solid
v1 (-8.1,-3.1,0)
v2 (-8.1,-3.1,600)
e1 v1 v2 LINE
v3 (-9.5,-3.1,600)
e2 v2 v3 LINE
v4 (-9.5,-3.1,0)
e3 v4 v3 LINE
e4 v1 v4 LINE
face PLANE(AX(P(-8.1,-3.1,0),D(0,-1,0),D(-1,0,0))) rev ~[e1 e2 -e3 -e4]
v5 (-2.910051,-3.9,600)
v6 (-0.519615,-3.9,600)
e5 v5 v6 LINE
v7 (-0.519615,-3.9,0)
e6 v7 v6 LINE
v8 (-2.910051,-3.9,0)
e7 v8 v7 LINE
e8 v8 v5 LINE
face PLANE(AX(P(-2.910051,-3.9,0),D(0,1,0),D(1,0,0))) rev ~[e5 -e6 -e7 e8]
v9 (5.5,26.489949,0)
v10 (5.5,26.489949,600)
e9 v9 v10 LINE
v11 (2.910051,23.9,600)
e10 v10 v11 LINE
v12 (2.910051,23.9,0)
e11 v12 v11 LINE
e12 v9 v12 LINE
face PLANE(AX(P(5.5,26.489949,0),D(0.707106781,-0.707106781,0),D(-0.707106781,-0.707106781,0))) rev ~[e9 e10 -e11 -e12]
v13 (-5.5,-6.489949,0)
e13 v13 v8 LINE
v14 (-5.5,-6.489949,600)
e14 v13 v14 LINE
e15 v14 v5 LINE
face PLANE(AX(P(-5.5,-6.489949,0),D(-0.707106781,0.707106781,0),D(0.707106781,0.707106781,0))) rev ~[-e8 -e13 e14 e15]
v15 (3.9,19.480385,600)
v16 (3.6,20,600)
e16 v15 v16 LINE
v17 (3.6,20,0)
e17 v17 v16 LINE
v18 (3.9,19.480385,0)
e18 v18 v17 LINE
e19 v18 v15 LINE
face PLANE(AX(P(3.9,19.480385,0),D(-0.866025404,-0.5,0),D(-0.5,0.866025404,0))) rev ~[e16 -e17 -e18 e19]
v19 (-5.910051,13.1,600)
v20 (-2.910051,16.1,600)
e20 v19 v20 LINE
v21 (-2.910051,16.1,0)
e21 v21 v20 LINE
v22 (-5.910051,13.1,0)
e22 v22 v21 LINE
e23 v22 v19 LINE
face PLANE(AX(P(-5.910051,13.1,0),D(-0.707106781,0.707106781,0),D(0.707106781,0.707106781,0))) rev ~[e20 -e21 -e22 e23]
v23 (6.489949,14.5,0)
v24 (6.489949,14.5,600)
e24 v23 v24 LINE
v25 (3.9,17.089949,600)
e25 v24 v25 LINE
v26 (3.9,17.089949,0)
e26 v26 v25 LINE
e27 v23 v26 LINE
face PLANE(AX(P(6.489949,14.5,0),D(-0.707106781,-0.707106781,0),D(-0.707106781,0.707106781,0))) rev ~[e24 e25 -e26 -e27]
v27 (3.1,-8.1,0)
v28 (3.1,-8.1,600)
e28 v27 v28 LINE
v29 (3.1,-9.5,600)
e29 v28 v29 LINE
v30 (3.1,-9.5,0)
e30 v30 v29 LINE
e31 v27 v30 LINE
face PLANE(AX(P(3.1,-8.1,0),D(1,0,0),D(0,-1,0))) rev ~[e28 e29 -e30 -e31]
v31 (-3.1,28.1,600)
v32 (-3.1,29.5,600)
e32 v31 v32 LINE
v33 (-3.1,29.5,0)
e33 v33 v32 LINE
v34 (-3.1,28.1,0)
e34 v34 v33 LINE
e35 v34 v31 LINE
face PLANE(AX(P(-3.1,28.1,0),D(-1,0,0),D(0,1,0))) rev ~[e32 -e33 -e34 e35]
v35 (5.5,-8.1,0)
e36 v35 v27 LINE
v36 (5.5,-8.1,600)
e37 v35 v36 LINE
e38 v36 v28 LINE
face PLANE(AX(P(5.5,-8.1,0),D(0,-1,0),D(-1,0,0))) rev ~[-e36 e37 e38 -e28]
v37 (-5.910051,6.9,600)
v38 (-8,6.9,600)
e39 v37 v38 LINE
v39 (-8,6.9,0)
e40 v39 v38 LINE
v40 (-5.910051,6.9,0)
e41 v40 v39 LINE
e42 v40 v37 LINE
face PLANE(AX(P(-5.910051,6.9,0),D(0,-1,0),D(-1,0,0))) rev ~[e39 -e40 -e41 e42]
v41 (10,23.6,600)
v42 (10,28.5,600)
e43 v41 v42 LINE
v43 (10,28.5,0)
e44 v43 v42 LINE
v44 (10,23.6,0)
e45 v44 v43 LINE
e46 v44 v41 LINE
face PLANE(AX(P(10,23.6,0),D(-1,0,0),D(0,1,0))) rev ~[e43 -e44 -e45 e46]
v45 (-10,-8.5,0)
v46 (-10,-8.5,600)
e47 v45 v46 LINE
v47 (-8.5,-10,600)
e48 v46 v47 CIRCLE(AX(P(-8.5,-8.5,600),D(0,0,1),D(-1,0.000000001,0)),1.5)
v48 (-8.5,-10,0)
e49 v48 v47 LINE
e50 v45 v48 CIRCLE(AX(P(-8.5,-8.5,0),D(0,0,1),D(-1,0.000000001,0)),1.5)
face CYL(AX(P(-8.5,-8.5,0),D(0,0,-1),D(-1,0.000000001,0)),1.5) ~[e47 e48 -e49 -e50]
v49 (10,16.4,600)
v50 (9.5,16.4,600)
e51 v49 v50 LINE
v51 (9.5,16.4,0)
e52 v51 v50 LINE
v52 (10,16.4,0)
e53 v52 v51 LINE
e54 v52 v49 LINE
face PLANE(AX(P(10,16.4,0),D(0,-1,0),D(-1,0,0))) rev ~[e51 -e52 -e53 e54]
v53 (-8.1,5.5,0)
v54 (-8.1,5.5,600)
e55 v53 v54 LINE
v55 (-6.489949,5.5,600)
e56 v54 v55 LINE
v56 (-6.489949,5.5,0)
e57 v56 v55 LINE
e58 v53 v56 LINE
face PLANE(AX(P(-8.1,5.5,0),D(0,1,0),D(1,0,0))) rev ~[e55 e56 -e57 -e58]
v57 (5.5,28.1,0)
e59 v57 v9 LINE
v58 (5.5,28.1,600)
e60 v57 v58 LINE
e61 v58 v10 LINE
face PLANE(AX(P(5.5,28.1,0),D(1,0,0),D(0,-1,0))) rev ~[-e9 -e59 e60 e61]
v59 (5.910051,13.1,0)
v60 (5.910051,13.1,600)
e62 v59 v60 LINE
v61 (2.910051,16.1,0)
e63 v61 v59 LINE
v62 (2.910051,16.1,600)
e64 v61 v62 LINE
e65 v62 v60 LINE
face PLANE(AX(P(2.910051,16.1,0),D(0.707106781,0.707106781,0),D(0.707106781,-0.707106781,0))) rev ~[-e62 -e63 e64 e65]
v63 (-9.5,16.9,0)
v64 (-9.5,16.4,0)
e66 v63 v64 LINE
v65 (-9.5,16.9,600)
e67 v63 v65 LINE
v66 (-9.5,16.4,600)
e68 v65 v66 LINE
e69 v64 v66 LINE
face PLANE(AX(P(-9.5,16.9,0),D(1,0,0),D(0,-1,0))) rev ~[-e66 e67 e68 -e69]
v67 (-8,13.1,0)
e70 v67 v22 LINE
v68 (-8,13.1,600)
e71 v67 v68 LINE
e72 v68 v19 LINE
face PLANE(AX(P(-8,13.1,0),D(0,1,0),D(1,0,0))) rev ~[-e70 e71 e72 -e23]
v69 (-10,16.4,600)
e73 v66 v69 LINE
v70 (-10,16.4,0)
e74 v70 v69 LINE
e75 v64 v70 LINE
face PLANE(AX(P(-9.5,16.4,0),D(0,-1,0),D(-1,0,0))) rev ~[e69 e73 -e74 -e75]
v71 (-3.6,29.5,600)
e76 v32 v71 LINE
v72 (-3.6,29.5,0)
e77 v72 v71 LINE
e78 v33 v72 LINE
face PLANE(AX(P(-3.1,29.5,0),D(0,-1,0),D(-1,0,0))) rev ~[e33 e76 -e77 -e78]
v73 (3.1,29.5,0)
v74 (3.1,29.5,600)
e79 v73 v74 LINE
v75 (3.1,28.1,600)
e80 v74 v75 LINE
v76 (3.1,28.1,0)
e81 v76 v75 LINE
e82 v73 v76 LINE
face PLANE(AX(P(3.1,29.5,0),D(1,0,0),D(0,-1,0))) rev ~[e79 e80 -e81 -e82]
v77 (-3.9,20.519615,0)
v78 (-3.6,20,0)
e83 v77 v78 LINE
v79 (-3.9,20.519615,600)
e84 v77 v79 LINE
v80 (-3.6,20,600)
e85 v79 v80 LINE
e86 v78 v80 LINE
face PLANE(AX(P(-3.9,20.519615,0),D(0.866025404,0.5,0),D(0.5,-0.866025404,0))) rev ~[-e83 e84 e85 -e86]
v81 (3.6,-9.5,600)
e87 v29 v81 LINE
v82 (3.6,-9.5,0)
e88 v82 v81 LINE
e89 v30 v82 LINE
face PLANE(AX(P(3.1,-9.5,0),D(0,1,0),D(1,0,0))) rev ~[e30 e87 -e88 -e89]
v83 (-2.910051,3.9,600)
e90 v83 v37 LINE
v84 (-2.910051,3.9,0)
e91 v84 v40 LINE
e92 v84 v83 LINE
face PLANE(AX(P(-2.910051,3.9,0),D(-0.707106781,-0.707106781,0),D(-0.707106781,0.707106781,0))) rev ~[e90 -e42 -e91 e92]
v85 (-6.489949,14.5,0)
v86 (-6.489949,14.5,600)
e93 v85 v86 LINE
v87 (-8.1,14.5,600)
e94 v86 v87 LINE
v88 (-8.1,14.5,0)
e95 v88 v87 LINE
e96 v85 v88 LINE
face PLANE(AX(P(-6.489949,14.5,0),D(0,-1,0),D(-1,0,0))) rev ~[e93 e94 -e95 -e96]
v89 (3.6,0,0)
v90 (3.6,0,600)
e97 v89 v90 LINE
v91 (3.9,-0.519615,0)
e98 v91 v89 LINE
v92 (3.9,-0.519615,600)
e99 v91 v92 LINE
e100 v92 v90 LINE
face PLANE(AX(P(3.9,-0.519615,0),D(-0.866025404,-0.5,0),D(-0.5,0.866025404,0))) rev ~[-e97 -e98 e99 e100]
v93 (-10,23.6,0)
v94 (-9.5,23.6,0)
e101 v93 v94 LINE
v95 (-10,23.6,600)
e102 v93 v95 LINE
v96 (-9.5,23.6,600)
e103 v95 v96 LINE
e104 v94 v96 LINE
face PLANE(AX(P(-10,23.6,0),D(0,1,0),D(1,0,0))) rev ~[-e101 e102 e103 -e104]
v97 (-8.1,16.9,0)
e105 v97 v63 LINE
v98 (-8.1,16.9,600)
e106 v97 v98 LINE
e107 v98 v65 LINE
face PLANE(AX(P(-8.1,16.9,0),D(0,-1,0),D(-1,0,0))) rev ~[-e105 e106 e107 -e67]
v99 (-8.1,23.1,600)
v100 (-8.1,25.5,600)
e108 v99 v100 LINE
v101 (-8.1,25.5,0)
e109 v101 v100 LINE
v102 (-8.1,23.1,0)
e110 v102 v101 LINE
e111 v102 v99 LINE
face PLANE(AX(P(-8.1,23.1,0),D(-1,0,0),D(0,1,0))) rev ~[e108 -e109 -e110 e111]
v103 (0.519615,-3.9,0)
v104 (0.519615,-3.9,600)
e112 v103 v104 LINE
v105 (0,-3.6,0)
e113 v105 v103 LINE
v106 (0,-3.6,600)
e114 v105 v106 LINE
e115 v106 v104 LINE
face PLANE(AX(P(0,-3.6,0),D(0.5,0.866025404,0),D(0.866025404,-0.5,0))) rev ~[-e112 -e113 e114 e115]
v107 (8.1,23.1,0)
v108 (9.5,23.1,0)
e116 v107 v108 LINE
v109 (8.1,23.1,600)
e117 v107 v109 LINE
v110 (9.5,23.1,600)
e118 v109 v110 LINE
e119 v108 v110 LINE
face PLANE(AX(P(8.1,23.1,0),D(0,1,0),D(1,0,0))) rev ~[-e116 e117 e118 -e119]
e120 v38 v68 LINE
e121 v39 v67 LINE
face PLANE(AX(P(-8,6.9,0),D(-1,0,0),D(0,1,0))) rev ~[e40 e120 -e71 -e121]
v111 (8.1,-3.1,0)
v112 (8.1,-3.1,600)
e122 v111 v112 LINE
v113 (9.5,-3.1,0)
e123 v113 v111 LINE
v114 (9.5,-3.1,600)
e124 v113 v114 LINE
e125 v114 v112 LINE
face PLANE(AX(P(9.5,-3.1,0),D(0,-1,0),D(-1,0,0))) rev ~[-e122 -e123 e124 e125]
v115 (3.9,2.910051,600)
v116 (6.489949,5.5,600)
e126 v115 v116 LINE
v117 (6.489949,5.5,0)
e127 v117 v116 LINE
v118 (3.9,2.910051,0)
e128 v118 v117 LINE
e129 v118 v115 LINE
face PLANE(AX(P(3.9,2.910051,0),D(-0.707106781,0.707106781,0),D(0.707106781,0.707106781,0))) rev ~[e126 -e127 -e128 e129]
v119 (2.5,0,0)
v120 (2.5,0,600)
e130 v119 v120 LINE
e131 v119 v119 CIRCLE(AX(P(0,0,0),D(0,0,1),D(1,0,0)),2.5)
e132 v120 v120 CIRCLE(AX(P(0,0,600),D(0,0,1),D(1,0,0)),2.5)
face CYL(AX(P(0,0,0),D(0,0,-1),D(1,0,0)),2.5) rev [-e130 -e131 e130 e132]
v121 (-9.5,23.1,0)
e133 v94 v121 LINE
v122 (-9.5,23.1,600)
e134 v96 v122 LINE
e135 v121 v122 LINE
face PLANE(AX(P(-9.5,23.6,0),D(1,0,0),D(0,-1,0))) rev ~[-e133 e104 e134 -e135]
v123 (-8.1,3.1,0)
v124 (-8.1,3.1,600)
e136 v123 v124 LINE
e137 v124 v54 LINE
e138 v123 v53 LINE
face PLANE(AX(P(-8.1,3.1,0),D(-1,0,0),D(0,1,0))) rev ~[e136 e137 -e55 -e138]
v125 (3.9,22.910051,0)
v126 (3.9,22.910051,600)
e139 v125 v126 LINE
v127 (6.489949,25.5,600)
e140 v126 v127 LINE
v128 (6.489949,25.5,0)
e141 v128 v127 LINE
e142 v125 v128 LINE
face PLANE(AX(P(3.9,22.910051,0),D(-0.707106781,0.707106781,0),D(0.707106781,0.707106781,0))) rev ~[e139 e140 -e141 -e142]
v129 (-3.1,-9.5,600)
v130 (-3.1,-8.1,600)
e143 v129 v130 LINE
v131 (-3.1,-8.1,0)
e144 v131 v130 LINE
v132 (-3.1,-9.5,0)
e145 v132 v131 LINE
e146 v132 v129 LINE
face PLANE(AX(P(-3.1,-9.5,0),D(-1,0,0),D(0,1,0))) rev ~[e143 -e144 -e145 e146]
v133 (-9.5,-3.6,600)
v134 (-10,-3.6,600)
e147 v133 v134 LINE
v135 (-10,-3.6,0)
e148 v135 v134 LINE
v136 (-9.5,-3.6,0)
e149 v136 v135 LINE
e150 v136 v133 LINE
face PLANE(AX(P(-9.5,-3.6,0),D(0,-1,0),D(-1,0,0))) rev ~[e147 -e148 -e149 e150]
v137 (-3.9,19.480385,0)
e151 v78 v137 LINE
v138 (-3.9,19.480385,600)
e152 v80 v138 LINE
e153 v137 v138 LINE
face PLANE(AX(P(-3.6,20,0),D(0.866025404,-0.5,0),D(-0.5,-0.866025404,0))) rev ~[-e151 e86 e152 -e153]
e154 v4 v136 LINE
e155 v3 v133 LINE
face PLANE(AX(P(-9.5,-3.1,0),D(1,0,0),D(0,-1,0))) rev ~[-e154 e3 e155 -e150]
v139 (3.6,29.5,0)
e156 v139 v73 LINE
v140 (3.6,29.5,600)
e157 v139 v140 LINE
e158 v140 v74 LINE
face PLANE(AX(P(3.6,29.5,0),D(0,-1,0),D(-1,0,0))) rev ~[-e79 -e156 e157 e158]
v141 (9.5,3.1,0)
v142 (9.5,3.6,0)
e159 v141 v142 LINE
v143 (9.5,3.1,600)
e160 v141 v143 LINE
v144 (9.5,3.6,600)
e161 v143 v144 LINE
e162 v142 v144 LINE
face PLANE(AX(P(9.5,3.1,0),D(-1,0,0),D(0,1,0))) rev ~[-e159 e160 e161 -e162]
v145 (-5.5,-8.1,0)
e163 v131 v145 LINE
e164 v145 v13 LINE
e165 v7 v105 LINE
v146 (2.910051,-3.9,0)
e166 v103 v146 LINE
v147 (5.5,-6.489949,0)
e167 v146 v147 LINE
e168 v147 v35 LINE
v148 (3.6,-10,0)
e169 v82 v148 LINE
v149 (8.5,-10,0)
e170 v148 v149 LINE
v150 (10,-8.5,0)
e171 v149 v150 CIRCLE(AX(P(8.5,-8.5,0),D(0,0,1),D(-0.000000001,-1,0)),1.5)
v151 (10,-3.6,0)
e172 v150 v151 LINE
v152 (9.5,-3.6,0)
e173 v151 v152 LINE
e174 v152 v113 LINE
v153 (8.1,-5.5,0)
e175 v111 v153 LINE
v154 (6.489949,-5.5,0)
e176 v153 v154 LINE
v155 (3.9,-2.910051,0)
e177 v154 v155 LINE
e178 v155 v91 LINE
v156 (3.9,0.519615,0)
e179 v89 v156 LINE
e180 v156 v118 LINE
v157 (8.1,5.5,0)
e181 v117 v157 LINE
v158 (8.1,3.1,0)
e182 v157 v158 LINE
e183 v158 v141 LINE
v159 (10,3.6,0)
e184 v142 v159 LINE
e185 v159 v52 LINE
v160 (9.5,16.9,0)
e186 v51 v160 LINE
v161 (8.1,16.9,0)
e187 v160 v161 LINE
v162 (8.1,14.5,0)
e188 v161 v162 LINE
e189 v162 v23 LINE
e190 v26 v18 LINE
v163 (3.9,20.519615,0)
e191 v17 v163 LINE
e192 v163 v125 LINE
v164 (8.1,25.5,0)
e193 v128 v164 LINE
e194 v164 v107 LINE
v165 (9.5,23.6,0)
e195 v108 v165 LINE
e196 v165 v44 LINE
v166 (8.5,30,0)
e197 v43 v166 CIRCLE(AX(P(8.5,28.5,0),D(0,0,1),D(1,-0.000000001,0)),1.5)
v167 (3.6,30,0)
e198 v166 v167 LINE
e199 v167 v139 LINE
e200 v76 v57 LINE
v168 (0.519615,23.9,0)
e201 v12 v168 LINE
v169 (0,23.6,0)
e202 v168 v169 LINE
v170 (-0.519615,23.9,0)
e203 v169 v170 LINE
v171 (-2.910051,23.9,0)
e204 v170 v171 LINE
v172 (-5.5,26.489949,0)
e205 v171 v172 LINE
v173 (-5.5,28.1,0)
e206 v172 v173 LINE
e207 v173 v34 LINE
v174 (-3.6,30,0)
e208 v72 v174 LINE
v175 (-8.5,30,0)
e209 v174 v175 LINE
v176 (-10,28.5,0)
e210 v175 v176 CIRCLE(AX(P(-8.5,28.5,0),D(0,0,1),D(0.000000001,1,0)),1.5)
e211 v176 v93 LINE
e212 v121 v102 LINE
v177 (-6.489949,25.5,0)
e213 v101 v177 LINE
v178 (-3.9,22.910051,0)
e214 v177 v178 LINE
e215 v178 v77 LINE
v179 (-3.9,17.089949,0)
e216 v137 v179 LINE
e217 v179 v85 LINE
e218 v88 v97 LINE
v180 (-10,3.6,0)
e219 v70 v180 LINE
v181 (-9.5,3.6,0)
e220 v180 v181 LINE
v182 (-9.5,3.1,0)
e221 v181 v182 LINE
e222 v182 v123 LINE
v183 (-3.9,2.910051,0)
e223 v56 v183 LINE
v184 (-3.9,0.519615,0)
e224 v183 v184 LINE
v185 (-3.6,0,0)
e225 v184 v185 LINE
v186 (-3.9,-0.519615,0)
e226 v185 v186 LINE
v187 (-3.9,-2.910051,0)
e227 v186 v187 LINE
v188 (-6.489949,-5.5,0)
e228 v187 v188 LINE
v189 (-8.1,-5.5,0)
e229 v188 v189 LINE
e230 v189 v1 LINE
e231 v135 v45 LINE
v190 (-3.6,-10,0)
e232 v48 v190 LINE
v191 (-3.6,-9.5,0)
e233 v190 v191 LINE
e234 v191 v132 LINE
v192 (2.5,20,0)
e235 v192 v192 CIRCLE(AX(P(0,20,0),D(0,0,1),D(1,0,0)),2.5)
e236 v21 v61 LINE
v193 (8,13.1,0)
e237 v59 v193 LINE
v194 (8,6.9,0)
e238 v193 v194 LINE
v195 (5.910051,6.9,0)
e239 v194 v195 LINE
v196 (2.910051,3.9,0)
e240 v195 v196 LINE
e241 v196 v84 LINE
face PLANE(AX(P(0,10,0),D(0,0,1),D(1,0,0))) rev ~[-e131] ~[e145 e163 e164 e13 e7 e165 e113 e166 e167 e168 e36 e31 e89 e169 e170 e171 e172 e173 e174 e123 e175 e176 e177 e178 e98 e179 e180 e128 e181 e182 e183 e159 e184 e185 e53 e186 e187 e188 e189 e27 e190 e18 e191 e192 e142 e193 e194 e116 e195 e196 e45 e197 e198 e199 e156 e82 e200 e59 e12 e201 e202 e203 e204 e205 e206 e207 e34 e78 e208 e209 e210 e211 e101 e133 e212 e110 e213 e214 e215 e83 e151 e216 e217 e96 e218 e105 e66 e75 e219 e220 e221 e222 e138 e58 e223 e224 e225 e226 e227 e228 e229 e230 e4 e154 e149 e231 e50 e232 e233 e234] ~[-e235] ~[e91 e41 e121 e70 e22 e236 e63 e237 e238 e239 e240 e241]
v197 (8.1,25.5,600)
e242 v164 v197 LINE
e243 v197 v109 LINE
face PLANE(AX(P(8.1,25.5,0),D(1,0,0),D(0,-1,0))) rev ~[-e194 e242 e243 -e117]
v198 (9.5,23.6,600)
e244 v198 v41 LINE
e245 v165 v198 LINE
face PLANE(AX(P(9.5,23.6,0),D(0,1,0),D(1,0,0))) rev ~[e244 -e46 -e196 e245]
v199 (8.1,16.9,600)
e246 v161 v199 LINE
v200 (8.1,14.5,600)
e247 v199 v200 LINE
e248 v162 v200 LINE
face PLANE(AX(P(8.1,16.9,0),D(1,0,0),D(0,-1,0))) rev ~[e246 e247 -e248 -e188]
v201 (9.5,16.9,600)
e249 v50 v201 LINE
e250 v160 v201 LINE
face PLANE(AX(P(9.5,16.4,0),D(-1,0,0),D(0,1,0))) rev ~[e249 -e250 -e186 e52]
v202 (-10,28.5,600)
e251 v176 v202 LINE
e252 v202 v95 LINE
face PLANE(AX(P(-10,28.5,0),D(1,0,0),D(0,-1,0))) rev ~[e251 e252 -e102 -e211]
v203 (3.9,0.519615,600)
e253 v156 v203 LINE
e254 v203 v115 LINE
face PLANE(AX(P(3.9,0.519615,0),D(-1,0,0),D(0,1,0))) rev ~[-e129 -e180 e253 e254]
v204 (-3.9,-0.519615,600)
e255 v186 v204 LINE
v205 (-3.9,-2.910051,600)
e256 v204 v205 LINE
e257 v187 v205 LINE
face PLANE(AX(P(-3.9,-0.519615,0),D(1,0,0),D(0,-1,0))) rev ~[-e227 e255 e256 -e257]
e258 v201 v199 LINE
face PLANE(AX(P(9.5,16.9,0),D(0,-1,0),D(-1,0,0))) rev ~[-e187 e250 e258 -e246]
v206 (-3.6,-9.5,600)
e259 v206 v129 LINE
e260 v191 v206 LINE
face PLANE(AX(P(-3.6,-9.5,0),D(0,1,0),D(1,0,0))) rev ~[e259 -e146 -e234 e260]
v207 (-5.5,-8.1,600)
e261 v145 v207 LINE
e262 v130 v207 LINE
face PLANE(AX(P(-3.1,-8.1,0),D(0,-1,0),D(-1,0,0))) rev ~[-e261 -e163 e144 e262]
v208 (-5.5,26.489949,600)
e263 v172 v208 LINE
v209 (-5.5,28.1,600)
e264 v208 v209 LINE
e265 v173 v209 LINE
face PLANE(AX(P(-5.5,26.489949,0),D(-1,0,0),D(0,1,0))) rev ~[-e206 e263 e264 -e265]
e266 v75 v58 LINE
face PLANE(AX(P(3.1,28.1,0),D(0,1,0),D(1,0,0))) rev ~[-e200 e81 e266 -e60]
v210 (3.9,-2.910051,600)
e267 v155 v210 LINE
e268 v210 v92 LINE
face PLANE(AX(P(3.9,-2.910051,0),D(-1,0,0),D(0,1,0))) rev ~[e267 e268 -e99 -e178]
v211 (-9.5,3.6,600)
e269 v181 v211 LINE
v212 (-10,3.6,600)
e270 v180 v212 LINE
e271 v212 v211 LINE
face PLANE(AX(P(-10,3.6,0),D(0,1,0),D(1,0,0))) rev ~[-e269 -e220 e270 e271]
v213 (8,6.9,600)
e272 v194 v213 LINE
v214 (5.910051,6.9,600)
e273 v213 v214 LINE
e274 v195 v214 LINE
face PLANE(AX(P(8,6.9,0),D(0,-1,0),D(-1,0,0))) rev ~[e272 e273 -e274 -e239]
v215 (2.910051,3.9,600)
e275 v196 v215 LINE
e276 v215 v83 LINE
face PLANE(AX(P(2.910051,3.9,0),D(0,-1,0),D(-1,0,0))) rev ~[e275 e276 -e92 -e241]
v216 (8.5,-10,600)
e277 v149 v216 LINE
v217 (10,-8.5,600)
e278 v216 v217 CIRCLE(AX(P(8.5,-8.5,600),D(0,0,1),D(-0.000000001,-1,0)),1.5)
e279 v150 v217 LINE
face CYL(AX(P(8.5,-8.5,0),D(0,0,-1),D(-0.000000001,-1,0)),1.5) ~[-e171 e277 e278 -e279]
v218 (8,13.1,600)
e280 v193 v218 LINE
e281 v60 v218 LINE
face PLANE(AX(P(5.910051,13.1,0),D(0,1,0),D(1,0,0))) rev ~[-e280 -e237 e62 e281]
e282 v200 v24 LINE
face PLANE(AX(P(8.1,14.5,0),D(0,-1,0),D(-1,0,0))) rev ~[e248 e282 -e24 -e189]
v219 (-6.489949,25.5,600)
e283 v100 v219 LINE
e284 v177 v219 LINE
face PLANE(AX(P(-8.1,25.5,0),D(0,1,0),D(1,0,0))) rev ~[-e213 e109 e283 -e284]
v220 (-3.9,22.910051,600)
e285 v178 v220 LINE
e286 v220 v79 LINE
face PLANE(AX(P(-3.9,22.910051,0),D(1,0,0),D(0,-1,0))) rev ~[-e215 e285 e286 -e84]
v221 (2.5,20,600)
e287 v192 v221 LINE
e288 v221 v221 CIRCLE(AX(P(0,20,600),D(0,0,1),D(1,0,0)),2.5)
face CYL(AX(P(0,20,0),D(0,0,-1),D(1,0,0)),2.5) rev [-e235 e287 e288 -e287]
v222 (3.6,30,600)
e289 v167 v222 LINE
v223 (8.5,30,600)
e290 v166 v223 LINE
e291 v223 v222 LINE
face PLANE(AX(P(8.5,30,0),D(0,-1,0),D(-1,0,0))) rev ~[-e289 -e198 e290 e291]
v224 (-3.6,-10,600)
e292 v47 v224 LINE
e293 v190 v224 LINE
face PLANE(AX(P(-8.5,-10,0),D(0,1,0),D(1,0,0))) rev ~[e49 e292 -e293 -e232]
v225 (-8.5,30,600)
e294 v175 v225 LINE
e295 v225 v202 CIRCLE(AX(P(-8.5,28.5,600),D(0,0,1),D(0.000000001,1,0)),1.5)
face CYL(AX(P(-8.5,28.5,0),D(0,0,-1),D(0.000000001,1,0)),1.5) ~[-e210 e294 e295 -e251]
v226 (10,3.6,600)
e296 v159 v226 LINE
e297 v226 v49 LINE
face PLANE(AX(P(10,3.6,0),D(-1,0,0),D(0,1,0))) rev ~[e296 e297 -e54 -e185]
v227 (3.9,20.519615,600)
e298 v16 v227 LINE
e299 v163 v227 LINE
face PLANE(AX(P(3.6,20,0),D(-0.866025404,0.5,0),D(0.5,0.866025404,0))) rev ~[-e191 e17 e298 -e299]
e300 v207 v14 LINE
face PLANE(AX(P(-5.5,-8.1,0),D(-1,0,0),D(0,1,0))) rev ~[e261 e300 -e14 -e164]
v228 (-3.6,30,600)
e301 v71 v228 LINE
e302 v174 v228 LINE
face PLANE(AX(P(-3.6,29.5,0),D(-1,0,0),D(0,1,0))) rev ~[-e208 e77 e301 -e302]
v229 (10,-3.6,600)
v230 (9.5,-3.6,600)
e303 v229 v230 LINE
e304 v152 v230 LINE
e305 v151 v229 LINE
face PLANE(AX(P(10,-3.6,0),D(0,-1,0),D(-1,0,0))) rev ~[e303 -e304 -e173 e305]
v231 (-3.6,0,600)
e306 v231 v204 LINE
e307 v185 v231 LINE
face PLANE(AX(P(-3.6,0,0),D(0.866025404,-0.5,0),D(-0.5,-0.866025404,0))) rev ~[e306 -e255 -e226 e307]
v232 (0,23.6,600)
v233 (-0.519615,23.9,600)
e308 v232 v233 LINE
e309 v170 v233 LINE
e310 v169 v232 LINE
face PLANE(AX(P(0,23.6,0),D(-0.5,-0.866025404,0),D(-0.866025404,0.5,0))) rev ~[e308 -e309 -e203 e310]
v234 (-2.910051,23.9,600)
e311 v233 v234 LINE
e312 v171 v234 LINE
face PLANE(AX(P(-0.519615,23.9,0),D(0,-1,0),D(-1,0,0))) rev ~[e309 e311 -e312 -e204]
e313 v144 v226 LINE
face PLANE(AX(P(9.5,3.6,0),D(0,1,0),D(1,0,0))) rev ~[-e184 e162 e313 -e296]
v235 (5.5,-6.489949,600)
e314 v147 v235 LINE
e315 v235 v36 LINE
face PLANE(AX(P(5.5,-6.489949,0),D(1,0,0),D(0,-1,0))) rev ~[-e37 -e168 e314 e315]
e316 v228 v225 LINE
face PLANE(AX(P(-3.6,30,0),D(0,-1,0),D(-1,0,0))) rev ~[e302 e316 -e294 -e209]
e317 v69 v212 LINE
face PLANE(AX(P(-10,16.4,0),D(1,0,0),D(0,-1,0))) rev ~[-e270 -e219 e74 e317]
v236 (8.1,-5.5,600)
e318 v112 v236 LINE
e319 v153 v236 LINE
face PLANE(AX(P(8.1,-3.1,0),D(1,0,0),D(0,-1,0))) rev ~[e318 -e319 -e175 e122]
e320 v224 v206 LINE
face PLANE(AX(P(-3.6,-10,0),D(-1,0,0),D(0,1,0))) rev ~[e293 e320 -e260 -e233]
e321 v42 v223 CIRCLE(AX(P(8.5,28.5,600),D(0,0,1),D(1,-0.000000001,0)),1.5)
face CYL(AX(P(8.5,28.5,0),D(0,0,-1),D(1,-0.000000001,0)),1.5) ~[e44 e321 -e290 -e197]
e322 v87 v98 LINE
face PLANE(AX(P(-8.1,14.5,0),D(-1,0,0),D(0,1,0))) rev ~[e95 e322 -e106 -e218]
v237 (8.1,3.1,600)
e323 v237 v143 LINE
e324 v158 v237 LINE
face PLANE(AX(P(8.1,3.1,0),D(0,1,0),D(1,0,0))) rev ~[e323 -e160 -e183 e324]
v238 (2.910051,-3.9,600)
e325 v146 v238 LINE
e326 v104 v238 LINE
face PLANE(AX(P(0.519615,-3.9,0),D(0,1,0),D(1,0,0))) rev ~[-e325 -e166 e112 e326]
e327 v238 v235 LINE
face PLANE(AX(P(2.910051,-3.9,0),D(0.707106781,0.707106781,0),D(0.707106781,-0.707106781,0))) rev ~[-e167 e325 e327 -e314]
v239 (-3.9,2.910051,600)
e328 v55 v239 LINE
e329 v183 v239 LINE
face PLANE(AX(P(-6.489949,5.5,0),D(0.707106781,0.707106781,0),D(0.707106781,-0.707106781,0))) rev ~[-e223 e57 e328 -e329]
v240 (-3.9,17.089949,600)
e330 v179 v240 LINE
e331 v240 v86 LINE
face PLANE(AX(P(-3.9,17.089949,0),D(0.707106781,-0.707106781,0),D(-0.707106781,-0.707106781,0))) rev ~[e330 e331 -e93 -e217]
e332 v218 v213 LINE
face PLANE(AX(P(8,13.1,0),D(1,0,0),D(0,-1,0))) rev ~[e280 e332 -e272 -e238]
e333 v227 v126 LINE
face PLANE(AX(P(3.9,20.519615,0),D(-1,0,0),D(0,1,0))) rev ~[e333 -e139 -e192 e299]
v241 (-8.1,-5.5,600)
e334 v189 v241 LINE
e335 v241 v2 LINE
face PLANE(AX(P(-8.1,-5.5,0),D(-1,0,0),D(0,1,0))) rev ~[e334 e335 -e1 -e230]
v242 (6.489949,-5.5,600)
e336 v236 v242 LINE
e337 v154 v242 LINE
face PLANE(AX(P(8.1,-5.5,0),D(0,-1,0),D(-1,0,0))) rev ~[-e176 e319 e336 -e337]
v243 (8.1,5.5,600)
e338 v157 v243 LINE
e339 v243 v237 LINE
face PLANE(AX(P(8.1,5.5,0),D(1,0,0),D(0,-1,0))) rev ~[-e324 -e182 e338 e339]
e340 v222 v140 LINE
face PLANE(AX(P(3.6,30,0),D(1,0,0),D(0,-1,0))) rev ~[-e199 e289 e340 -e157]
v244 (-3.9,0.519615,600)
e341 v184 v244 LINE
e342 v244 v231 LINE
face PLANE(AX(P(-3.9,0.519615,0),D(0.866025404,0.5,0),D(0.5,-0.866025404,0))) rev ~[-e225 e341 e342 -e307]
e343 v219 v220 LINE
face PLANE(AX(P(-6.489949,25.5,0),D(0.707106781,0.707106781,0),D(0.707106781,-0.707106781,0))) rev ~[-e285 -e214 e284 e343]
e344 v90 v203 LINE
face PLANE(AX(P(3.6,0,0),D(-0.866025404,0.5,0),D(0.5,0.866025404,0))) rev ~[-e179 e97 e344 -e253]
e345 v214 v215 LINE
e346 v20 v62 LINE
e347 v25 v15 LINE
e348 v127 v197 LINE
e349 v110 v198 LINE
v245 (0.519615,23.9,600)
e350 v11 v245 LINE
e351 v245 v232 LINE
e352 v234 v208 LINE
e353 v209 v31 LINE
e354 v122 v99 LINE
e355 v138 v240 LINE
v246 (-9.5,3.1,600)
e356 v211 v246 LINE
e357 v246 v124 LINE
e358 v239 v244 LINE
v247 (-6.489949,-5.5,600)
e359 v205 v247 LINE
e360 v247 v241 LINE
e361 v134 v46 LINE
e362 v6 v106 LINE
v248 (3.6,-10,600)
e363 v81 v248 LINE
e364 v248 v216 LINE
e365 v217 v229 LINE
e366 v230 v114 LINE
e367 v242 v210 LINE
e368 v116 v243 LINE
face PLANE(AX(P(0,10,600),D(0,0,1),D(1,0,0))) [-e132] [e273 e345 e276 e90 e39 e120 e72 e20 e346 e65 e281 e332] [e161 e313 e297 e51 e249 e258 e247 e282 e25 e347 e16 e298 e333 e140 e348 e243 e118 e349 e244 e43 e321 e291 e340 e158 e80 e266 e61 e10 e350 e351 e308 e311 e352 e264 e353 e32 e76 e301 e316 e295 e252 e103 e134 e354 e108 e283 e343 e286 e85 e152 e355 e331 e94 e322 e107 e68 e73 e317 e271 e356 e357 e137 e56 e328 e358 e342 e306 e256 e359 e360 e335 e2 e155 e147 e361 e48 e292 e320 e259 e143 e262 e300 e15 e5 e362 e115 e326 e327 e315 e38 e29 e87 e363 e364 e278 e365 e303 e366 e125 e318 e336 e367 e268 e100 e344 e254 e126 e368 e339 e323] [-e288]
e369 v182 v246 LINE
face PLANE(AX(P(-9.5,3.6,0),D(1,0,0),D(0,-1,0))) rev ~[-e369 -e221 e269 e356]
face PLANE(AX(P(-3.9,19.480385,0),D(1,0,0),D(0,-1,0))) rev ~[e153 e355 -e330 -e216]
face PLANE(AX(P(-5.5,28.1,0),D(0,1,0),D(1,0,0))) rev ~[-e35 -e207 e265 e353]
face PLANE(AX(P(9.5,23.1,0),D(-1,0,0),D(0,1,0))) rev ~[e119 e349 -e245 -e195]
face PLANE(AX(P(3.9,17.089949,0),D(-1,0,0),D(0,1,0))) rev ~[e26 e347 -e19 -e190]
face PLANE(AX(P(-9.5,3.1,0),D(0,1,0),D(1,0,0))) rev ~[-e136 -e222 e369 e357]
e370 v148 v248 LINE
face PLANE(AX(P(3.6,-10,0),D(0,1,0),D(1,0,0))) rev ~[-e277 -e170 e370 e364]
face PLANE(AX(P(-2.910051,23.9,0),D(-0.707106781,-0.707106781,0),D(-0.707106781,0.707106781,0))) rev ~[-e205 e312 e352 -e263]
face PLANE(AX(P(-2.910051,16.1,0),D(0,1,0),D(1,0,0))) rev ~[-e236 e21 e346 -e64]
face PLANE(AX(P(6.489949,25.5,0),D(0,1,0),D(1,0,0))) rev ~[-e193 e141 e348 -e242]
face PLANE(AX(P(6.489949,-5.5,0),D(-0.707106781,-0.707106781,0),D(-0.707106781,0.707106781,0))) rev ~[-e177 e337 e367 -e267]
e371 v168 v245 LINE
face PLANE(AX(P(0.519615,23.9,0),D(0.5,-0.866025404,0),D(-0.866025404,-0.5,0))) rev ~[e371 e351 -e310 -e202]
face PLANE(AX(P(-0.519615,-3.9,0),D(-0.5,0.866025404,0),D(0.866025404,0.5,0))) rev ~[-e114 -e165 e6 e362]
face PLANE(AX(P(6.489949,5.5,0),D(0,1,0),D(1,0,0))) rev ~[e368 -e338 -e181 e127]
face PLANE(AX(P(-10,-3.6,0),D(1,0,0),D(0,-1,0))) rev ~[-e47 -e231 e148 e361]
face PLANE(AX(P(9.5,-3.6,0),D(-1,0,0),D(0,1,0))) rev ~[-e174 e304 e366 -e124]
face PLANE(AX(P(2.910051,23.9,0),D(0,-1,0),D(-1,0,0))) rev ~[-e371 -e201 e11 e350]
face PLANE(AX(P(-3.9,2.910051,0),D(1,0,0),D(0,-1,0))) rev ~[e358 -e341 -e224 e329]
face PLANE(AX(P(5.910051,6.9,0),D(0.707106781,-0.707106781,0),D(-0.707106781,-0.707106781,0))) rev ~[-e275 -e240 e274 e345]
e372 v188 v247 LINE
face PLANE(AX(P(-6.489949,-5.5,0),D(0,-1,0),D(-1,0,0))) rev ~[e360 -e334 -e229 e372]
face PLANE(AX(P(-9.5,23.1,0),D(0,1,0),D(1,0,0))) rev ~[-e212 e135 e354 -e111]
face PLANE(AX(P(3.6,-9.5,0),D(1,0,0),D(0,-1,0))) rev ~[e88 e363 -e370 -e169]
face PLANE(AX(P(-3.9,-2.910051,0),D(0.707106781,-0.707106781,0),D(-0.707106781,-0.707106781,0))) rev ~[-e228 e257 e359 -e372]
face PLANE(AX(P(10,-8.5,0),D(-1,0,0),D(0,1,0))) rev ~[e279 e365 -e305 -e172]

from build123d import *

# Parameters (mm, degrees)
SKETCH_30_R     = 2.5
EXTRUDE_3_DEPTH = 600


with BuildPart() as part:
    # 草图30 → 凸台-拉伸3 (new body)
    with BuildSketch(Plane.XY):
        with BuildLine():
            Line((-8.1, 14.5), (-8.1, 16.9))
            Line((-8.1, 16.9), (-9.5, 16.9))
            Line((-9.5, 16.9), (-9.5, 16.4))
            Line((-9.5, 16.4), (-10, 16.4))
            Line((-10, 16.4), (-10, 3.6))
            Line((-10, 3.6), (-9.5, 3.6))
            Line((-9.5, 3.6), (-9.5, 3.1))
            Line((-9.5, 3.1), (-8.1, 3.1))
            Line((-8.1, 3.1), (-8.1, 5.5))
            Line((-8.1, 5.5), (-6.489949494, 5.5))
            Line((-6.489949494, 5.5), (-3.9, 2.910050506))
            Line((-3.9, 2.910050506), (-3.9, 0.519615242))
            Line((-3.9, 0.519615242), (-3.6, 0))
            Line((-3.6, 0), (-3.9, -0.519615242))
            Line((-3.9, -0.519615242), (-3.9, -2.910050506))
            Line((-3.9, -2.910050506), (-6.489949494, -5.5))
            Line((-6.489949494, -5.5), (-8.1, -5.5))
            Line((-8.1, -5.5), (-8.1, -3.1))
            Line((-8.1, -3.1), (-9.5, -3.1))
            Line((-9.5, -3.1), (-9.5, -3.6))
            Line((-9.5, -3.6), (-10, -3.6))
            Line((-10, -3.6), (-10, -8.5))
            ThreePointArc((-10, -8.5), (-9.560660172, -9.560660172), (-8.5, -10))
            Line((-8.5, -10), (-3.6, -10))
            Line((-3.6, -10), (-3.6, -9.5))
            Line((-3.6, -9.5), (-3.1, -9.5))
            Line((-3.1, -9.5), (-3.1, -8.1))
            Line((-3.1, -8.1), (-5.5, -8.1))
            Line((-5.5, -8.1), (-5.5, -6.489949494))
            Line((-5.5, -6.489949494), (-2.910050506, -3.9))
            Line((-2.910050506, -3.9), (-0.519615242, -3.9))
            Line((-0.519615242, -3.9), (0, -3.6))
            Line((0, -3.6), (0.519615242, -3.9))
            Line((0.519615242, -3.9), (2.910050506, -3.9))
            Line((2.910050506, -3.9), (5.5, -6.489949494))
            Line((5.5, -6.489949494), (5.5, -8.1))
            Line((5.5, -8.1), (3.1, -8.1))
            Line((3.1, -8.1), (3.1, -9.5))
            Line((3.1, -9.5), (3.6, -9.5))
            Line((3.6, -9.5), (3.6, -10))
            Line((3.6, -10), (8.5, -10))
            ThreePointArc((8.5, -10), (9.560660172, -9.560660172), (10, -8.5))
            Line((10, -8.5), (10, -3.6))
            Line((10, -3.6), (9.5, -3.6))
            Line((9.5, -3.6), (9.5, -3.1))
            Line((9.5, -3.1), (8.1, -3.1))
            Line((8.1, -3.1), (8.1, -5.5))
            Line((8.1, -5.5), (6.489949494, -5.5))
            Line((6.489949494, -5.5), (3.9, -2.910050506))
            Line((3.9, -2.910050506), (3.9, -0.519615242))
            Line((3.9, -0.519615242), (3.6, 0))
            Line((3.6, 0), (3.9, 0.519615242))
            Line((3.9, 0.519615242), (3.9, 2.910050506))
            Line((3.9, 2.910050506), (6.489949494, 5.5))
            Line((6.489949494, 5.5), (8.1, 5.5))
            Line((8.1, 5.5), (8.1, 3.1))
            Line((8.1, 3.1), (9.5, 3.1))
            Line((9.5, 3.1), (9.5, 3.6))
            Line((9.5, 3.6), (10, 3.6))
            Line((10, 3.6), (10, 16.4))
            Line((10, 16.4), (9.5, 16.4))
            Line((9.5, 16.4), (9.5, 16.9))
            Line((9.5, 16.9), (8.1, 16.9))
            Line((8.1, 16.9), (8.1, 14.5))
            Line((8.1, 14.5), (6.489949494, 14.5))
            Line((6.489949494, 14.5), (3.9, 17.089949494))
            Line((3.9, 17.089949494), (3.9, 19.480384758))
            Line((3.9, 19.480384758), (3.6, 20))
            Line((3.6, 20), (3.9, 20.519615242))
            Line((3.9, 20.519615242), (3.9, 22.910050506))
            Line((3.9, 22.910050506), (6.489949494, 25.5))
            Line((6.489949494, 25.5), (8.1, 25.5))
            Line((8.1, 25.5), (8.1, 23.1))
            Line((8.1, 23.1), (9.5, 23.1))
            Line((9.5, 23.1), (9.5, 23.6))
            Line((9.5, 23.6), (10, 23.6))
            Line((10, 23.6), (10, 28.5))
            ThreePointArc((10, 28.5), (9.560660172, 29.560660172), (8.5, 30))
            Line((8.5, 30), (3.6, 30))
            Line((3.6, 30), (3.6, 29.5))
            Line((3.6, 29.5), (3.1, 29.5))
            Line((3.1, 29.5), (3.1, 28.1))
            Line((3.1, 28.1), (5.5, 28.1))
            Line((5.5, 28.1), (5.5, 26.489949494))
            Line((5.5, 26.489949494), (2.910050506, 23.9))
            Line((2.910050506, 23.9), (0.519615242, 23.9))
            Line((0.519615242, 23.9), (0, 23.6))
            Line((0, 23.6), (-0.519615242, 23.9))
            Line((-0.519615242, 23.9), (-2.910050506, 23.9))
            Line((-2.910050506, 23.9), (-5.5, 26.489949494))
            Line((-5.5, 26.489949494), (-5.5, 28.1))
            Line((-5.5, 28.1), (-3.1, 28.1))
            Line((-3.1, 28.1), (-3.1, 29.5))
            Line((-3.1, 29.5), (-3.6, 29.5))
            Line((-3.6, 29.5), (-3.6, 30))
            Line((-3.6, 30), (-8.5, 30))
            ThreePointArc((-8.5, 30), (-9.560660172, 29.560660172), (-10, 28.5))
            Line((-10, 28.5), (-10, 23.6))
            Line((-10, 23.6), (-9.5, 23.6))
            Line((-9.5, 23.6), (-9.5, 23.1))
            Line((-9.5, 23.1), (-8.1, 23.1))
            Line((-8.1, 23.1), (-8.1, 25.5))
            Line((-8.1, 25.5), (-6.489949494, 25.5))
            Line((-6.489949494, 25.5), (-3.9, 22.910050506))
            Line((-3.9, 22.910050506), (-3.9, 20.519615242))
            Line((-3.9, 20.519615242), (-3.6, 20))
            Line((-3.6, 20), (-3.9, 19.480384758))
            Line((-3.9, 19.480384758), (-3.9, 17.089949494))
            Line((-3.9, 17.089949494), (-6.489949494, 14.5))
            Line((-6.489949494, 14.5), (-8.1, 14.5))
        make_face()
        with Locations((0, 20)):
            Circle(SKETCH_30_R, mode=Mode.SUBTRACT)
        Circle(SKETCH_30_R, mode=Mode.SUBTRACT)
        Polygon((5.910050506, 6.9), (2.910050506, 3.9), (-2.910050506, 3.9), (-5.910050506, 6.9), (-8, 6.9), (-8, 13.1), (-5.910050506, 13.1), (-2.910050506, 16.1), (2.910050506, 16.1), (5.910050506, 13.1), (8, 13.1), (8, 6.9), align=None, mode=Mode.SUBTRACT)
    extrude(amount=EXTRUDE_3_DEPTH)


solid = part.part
